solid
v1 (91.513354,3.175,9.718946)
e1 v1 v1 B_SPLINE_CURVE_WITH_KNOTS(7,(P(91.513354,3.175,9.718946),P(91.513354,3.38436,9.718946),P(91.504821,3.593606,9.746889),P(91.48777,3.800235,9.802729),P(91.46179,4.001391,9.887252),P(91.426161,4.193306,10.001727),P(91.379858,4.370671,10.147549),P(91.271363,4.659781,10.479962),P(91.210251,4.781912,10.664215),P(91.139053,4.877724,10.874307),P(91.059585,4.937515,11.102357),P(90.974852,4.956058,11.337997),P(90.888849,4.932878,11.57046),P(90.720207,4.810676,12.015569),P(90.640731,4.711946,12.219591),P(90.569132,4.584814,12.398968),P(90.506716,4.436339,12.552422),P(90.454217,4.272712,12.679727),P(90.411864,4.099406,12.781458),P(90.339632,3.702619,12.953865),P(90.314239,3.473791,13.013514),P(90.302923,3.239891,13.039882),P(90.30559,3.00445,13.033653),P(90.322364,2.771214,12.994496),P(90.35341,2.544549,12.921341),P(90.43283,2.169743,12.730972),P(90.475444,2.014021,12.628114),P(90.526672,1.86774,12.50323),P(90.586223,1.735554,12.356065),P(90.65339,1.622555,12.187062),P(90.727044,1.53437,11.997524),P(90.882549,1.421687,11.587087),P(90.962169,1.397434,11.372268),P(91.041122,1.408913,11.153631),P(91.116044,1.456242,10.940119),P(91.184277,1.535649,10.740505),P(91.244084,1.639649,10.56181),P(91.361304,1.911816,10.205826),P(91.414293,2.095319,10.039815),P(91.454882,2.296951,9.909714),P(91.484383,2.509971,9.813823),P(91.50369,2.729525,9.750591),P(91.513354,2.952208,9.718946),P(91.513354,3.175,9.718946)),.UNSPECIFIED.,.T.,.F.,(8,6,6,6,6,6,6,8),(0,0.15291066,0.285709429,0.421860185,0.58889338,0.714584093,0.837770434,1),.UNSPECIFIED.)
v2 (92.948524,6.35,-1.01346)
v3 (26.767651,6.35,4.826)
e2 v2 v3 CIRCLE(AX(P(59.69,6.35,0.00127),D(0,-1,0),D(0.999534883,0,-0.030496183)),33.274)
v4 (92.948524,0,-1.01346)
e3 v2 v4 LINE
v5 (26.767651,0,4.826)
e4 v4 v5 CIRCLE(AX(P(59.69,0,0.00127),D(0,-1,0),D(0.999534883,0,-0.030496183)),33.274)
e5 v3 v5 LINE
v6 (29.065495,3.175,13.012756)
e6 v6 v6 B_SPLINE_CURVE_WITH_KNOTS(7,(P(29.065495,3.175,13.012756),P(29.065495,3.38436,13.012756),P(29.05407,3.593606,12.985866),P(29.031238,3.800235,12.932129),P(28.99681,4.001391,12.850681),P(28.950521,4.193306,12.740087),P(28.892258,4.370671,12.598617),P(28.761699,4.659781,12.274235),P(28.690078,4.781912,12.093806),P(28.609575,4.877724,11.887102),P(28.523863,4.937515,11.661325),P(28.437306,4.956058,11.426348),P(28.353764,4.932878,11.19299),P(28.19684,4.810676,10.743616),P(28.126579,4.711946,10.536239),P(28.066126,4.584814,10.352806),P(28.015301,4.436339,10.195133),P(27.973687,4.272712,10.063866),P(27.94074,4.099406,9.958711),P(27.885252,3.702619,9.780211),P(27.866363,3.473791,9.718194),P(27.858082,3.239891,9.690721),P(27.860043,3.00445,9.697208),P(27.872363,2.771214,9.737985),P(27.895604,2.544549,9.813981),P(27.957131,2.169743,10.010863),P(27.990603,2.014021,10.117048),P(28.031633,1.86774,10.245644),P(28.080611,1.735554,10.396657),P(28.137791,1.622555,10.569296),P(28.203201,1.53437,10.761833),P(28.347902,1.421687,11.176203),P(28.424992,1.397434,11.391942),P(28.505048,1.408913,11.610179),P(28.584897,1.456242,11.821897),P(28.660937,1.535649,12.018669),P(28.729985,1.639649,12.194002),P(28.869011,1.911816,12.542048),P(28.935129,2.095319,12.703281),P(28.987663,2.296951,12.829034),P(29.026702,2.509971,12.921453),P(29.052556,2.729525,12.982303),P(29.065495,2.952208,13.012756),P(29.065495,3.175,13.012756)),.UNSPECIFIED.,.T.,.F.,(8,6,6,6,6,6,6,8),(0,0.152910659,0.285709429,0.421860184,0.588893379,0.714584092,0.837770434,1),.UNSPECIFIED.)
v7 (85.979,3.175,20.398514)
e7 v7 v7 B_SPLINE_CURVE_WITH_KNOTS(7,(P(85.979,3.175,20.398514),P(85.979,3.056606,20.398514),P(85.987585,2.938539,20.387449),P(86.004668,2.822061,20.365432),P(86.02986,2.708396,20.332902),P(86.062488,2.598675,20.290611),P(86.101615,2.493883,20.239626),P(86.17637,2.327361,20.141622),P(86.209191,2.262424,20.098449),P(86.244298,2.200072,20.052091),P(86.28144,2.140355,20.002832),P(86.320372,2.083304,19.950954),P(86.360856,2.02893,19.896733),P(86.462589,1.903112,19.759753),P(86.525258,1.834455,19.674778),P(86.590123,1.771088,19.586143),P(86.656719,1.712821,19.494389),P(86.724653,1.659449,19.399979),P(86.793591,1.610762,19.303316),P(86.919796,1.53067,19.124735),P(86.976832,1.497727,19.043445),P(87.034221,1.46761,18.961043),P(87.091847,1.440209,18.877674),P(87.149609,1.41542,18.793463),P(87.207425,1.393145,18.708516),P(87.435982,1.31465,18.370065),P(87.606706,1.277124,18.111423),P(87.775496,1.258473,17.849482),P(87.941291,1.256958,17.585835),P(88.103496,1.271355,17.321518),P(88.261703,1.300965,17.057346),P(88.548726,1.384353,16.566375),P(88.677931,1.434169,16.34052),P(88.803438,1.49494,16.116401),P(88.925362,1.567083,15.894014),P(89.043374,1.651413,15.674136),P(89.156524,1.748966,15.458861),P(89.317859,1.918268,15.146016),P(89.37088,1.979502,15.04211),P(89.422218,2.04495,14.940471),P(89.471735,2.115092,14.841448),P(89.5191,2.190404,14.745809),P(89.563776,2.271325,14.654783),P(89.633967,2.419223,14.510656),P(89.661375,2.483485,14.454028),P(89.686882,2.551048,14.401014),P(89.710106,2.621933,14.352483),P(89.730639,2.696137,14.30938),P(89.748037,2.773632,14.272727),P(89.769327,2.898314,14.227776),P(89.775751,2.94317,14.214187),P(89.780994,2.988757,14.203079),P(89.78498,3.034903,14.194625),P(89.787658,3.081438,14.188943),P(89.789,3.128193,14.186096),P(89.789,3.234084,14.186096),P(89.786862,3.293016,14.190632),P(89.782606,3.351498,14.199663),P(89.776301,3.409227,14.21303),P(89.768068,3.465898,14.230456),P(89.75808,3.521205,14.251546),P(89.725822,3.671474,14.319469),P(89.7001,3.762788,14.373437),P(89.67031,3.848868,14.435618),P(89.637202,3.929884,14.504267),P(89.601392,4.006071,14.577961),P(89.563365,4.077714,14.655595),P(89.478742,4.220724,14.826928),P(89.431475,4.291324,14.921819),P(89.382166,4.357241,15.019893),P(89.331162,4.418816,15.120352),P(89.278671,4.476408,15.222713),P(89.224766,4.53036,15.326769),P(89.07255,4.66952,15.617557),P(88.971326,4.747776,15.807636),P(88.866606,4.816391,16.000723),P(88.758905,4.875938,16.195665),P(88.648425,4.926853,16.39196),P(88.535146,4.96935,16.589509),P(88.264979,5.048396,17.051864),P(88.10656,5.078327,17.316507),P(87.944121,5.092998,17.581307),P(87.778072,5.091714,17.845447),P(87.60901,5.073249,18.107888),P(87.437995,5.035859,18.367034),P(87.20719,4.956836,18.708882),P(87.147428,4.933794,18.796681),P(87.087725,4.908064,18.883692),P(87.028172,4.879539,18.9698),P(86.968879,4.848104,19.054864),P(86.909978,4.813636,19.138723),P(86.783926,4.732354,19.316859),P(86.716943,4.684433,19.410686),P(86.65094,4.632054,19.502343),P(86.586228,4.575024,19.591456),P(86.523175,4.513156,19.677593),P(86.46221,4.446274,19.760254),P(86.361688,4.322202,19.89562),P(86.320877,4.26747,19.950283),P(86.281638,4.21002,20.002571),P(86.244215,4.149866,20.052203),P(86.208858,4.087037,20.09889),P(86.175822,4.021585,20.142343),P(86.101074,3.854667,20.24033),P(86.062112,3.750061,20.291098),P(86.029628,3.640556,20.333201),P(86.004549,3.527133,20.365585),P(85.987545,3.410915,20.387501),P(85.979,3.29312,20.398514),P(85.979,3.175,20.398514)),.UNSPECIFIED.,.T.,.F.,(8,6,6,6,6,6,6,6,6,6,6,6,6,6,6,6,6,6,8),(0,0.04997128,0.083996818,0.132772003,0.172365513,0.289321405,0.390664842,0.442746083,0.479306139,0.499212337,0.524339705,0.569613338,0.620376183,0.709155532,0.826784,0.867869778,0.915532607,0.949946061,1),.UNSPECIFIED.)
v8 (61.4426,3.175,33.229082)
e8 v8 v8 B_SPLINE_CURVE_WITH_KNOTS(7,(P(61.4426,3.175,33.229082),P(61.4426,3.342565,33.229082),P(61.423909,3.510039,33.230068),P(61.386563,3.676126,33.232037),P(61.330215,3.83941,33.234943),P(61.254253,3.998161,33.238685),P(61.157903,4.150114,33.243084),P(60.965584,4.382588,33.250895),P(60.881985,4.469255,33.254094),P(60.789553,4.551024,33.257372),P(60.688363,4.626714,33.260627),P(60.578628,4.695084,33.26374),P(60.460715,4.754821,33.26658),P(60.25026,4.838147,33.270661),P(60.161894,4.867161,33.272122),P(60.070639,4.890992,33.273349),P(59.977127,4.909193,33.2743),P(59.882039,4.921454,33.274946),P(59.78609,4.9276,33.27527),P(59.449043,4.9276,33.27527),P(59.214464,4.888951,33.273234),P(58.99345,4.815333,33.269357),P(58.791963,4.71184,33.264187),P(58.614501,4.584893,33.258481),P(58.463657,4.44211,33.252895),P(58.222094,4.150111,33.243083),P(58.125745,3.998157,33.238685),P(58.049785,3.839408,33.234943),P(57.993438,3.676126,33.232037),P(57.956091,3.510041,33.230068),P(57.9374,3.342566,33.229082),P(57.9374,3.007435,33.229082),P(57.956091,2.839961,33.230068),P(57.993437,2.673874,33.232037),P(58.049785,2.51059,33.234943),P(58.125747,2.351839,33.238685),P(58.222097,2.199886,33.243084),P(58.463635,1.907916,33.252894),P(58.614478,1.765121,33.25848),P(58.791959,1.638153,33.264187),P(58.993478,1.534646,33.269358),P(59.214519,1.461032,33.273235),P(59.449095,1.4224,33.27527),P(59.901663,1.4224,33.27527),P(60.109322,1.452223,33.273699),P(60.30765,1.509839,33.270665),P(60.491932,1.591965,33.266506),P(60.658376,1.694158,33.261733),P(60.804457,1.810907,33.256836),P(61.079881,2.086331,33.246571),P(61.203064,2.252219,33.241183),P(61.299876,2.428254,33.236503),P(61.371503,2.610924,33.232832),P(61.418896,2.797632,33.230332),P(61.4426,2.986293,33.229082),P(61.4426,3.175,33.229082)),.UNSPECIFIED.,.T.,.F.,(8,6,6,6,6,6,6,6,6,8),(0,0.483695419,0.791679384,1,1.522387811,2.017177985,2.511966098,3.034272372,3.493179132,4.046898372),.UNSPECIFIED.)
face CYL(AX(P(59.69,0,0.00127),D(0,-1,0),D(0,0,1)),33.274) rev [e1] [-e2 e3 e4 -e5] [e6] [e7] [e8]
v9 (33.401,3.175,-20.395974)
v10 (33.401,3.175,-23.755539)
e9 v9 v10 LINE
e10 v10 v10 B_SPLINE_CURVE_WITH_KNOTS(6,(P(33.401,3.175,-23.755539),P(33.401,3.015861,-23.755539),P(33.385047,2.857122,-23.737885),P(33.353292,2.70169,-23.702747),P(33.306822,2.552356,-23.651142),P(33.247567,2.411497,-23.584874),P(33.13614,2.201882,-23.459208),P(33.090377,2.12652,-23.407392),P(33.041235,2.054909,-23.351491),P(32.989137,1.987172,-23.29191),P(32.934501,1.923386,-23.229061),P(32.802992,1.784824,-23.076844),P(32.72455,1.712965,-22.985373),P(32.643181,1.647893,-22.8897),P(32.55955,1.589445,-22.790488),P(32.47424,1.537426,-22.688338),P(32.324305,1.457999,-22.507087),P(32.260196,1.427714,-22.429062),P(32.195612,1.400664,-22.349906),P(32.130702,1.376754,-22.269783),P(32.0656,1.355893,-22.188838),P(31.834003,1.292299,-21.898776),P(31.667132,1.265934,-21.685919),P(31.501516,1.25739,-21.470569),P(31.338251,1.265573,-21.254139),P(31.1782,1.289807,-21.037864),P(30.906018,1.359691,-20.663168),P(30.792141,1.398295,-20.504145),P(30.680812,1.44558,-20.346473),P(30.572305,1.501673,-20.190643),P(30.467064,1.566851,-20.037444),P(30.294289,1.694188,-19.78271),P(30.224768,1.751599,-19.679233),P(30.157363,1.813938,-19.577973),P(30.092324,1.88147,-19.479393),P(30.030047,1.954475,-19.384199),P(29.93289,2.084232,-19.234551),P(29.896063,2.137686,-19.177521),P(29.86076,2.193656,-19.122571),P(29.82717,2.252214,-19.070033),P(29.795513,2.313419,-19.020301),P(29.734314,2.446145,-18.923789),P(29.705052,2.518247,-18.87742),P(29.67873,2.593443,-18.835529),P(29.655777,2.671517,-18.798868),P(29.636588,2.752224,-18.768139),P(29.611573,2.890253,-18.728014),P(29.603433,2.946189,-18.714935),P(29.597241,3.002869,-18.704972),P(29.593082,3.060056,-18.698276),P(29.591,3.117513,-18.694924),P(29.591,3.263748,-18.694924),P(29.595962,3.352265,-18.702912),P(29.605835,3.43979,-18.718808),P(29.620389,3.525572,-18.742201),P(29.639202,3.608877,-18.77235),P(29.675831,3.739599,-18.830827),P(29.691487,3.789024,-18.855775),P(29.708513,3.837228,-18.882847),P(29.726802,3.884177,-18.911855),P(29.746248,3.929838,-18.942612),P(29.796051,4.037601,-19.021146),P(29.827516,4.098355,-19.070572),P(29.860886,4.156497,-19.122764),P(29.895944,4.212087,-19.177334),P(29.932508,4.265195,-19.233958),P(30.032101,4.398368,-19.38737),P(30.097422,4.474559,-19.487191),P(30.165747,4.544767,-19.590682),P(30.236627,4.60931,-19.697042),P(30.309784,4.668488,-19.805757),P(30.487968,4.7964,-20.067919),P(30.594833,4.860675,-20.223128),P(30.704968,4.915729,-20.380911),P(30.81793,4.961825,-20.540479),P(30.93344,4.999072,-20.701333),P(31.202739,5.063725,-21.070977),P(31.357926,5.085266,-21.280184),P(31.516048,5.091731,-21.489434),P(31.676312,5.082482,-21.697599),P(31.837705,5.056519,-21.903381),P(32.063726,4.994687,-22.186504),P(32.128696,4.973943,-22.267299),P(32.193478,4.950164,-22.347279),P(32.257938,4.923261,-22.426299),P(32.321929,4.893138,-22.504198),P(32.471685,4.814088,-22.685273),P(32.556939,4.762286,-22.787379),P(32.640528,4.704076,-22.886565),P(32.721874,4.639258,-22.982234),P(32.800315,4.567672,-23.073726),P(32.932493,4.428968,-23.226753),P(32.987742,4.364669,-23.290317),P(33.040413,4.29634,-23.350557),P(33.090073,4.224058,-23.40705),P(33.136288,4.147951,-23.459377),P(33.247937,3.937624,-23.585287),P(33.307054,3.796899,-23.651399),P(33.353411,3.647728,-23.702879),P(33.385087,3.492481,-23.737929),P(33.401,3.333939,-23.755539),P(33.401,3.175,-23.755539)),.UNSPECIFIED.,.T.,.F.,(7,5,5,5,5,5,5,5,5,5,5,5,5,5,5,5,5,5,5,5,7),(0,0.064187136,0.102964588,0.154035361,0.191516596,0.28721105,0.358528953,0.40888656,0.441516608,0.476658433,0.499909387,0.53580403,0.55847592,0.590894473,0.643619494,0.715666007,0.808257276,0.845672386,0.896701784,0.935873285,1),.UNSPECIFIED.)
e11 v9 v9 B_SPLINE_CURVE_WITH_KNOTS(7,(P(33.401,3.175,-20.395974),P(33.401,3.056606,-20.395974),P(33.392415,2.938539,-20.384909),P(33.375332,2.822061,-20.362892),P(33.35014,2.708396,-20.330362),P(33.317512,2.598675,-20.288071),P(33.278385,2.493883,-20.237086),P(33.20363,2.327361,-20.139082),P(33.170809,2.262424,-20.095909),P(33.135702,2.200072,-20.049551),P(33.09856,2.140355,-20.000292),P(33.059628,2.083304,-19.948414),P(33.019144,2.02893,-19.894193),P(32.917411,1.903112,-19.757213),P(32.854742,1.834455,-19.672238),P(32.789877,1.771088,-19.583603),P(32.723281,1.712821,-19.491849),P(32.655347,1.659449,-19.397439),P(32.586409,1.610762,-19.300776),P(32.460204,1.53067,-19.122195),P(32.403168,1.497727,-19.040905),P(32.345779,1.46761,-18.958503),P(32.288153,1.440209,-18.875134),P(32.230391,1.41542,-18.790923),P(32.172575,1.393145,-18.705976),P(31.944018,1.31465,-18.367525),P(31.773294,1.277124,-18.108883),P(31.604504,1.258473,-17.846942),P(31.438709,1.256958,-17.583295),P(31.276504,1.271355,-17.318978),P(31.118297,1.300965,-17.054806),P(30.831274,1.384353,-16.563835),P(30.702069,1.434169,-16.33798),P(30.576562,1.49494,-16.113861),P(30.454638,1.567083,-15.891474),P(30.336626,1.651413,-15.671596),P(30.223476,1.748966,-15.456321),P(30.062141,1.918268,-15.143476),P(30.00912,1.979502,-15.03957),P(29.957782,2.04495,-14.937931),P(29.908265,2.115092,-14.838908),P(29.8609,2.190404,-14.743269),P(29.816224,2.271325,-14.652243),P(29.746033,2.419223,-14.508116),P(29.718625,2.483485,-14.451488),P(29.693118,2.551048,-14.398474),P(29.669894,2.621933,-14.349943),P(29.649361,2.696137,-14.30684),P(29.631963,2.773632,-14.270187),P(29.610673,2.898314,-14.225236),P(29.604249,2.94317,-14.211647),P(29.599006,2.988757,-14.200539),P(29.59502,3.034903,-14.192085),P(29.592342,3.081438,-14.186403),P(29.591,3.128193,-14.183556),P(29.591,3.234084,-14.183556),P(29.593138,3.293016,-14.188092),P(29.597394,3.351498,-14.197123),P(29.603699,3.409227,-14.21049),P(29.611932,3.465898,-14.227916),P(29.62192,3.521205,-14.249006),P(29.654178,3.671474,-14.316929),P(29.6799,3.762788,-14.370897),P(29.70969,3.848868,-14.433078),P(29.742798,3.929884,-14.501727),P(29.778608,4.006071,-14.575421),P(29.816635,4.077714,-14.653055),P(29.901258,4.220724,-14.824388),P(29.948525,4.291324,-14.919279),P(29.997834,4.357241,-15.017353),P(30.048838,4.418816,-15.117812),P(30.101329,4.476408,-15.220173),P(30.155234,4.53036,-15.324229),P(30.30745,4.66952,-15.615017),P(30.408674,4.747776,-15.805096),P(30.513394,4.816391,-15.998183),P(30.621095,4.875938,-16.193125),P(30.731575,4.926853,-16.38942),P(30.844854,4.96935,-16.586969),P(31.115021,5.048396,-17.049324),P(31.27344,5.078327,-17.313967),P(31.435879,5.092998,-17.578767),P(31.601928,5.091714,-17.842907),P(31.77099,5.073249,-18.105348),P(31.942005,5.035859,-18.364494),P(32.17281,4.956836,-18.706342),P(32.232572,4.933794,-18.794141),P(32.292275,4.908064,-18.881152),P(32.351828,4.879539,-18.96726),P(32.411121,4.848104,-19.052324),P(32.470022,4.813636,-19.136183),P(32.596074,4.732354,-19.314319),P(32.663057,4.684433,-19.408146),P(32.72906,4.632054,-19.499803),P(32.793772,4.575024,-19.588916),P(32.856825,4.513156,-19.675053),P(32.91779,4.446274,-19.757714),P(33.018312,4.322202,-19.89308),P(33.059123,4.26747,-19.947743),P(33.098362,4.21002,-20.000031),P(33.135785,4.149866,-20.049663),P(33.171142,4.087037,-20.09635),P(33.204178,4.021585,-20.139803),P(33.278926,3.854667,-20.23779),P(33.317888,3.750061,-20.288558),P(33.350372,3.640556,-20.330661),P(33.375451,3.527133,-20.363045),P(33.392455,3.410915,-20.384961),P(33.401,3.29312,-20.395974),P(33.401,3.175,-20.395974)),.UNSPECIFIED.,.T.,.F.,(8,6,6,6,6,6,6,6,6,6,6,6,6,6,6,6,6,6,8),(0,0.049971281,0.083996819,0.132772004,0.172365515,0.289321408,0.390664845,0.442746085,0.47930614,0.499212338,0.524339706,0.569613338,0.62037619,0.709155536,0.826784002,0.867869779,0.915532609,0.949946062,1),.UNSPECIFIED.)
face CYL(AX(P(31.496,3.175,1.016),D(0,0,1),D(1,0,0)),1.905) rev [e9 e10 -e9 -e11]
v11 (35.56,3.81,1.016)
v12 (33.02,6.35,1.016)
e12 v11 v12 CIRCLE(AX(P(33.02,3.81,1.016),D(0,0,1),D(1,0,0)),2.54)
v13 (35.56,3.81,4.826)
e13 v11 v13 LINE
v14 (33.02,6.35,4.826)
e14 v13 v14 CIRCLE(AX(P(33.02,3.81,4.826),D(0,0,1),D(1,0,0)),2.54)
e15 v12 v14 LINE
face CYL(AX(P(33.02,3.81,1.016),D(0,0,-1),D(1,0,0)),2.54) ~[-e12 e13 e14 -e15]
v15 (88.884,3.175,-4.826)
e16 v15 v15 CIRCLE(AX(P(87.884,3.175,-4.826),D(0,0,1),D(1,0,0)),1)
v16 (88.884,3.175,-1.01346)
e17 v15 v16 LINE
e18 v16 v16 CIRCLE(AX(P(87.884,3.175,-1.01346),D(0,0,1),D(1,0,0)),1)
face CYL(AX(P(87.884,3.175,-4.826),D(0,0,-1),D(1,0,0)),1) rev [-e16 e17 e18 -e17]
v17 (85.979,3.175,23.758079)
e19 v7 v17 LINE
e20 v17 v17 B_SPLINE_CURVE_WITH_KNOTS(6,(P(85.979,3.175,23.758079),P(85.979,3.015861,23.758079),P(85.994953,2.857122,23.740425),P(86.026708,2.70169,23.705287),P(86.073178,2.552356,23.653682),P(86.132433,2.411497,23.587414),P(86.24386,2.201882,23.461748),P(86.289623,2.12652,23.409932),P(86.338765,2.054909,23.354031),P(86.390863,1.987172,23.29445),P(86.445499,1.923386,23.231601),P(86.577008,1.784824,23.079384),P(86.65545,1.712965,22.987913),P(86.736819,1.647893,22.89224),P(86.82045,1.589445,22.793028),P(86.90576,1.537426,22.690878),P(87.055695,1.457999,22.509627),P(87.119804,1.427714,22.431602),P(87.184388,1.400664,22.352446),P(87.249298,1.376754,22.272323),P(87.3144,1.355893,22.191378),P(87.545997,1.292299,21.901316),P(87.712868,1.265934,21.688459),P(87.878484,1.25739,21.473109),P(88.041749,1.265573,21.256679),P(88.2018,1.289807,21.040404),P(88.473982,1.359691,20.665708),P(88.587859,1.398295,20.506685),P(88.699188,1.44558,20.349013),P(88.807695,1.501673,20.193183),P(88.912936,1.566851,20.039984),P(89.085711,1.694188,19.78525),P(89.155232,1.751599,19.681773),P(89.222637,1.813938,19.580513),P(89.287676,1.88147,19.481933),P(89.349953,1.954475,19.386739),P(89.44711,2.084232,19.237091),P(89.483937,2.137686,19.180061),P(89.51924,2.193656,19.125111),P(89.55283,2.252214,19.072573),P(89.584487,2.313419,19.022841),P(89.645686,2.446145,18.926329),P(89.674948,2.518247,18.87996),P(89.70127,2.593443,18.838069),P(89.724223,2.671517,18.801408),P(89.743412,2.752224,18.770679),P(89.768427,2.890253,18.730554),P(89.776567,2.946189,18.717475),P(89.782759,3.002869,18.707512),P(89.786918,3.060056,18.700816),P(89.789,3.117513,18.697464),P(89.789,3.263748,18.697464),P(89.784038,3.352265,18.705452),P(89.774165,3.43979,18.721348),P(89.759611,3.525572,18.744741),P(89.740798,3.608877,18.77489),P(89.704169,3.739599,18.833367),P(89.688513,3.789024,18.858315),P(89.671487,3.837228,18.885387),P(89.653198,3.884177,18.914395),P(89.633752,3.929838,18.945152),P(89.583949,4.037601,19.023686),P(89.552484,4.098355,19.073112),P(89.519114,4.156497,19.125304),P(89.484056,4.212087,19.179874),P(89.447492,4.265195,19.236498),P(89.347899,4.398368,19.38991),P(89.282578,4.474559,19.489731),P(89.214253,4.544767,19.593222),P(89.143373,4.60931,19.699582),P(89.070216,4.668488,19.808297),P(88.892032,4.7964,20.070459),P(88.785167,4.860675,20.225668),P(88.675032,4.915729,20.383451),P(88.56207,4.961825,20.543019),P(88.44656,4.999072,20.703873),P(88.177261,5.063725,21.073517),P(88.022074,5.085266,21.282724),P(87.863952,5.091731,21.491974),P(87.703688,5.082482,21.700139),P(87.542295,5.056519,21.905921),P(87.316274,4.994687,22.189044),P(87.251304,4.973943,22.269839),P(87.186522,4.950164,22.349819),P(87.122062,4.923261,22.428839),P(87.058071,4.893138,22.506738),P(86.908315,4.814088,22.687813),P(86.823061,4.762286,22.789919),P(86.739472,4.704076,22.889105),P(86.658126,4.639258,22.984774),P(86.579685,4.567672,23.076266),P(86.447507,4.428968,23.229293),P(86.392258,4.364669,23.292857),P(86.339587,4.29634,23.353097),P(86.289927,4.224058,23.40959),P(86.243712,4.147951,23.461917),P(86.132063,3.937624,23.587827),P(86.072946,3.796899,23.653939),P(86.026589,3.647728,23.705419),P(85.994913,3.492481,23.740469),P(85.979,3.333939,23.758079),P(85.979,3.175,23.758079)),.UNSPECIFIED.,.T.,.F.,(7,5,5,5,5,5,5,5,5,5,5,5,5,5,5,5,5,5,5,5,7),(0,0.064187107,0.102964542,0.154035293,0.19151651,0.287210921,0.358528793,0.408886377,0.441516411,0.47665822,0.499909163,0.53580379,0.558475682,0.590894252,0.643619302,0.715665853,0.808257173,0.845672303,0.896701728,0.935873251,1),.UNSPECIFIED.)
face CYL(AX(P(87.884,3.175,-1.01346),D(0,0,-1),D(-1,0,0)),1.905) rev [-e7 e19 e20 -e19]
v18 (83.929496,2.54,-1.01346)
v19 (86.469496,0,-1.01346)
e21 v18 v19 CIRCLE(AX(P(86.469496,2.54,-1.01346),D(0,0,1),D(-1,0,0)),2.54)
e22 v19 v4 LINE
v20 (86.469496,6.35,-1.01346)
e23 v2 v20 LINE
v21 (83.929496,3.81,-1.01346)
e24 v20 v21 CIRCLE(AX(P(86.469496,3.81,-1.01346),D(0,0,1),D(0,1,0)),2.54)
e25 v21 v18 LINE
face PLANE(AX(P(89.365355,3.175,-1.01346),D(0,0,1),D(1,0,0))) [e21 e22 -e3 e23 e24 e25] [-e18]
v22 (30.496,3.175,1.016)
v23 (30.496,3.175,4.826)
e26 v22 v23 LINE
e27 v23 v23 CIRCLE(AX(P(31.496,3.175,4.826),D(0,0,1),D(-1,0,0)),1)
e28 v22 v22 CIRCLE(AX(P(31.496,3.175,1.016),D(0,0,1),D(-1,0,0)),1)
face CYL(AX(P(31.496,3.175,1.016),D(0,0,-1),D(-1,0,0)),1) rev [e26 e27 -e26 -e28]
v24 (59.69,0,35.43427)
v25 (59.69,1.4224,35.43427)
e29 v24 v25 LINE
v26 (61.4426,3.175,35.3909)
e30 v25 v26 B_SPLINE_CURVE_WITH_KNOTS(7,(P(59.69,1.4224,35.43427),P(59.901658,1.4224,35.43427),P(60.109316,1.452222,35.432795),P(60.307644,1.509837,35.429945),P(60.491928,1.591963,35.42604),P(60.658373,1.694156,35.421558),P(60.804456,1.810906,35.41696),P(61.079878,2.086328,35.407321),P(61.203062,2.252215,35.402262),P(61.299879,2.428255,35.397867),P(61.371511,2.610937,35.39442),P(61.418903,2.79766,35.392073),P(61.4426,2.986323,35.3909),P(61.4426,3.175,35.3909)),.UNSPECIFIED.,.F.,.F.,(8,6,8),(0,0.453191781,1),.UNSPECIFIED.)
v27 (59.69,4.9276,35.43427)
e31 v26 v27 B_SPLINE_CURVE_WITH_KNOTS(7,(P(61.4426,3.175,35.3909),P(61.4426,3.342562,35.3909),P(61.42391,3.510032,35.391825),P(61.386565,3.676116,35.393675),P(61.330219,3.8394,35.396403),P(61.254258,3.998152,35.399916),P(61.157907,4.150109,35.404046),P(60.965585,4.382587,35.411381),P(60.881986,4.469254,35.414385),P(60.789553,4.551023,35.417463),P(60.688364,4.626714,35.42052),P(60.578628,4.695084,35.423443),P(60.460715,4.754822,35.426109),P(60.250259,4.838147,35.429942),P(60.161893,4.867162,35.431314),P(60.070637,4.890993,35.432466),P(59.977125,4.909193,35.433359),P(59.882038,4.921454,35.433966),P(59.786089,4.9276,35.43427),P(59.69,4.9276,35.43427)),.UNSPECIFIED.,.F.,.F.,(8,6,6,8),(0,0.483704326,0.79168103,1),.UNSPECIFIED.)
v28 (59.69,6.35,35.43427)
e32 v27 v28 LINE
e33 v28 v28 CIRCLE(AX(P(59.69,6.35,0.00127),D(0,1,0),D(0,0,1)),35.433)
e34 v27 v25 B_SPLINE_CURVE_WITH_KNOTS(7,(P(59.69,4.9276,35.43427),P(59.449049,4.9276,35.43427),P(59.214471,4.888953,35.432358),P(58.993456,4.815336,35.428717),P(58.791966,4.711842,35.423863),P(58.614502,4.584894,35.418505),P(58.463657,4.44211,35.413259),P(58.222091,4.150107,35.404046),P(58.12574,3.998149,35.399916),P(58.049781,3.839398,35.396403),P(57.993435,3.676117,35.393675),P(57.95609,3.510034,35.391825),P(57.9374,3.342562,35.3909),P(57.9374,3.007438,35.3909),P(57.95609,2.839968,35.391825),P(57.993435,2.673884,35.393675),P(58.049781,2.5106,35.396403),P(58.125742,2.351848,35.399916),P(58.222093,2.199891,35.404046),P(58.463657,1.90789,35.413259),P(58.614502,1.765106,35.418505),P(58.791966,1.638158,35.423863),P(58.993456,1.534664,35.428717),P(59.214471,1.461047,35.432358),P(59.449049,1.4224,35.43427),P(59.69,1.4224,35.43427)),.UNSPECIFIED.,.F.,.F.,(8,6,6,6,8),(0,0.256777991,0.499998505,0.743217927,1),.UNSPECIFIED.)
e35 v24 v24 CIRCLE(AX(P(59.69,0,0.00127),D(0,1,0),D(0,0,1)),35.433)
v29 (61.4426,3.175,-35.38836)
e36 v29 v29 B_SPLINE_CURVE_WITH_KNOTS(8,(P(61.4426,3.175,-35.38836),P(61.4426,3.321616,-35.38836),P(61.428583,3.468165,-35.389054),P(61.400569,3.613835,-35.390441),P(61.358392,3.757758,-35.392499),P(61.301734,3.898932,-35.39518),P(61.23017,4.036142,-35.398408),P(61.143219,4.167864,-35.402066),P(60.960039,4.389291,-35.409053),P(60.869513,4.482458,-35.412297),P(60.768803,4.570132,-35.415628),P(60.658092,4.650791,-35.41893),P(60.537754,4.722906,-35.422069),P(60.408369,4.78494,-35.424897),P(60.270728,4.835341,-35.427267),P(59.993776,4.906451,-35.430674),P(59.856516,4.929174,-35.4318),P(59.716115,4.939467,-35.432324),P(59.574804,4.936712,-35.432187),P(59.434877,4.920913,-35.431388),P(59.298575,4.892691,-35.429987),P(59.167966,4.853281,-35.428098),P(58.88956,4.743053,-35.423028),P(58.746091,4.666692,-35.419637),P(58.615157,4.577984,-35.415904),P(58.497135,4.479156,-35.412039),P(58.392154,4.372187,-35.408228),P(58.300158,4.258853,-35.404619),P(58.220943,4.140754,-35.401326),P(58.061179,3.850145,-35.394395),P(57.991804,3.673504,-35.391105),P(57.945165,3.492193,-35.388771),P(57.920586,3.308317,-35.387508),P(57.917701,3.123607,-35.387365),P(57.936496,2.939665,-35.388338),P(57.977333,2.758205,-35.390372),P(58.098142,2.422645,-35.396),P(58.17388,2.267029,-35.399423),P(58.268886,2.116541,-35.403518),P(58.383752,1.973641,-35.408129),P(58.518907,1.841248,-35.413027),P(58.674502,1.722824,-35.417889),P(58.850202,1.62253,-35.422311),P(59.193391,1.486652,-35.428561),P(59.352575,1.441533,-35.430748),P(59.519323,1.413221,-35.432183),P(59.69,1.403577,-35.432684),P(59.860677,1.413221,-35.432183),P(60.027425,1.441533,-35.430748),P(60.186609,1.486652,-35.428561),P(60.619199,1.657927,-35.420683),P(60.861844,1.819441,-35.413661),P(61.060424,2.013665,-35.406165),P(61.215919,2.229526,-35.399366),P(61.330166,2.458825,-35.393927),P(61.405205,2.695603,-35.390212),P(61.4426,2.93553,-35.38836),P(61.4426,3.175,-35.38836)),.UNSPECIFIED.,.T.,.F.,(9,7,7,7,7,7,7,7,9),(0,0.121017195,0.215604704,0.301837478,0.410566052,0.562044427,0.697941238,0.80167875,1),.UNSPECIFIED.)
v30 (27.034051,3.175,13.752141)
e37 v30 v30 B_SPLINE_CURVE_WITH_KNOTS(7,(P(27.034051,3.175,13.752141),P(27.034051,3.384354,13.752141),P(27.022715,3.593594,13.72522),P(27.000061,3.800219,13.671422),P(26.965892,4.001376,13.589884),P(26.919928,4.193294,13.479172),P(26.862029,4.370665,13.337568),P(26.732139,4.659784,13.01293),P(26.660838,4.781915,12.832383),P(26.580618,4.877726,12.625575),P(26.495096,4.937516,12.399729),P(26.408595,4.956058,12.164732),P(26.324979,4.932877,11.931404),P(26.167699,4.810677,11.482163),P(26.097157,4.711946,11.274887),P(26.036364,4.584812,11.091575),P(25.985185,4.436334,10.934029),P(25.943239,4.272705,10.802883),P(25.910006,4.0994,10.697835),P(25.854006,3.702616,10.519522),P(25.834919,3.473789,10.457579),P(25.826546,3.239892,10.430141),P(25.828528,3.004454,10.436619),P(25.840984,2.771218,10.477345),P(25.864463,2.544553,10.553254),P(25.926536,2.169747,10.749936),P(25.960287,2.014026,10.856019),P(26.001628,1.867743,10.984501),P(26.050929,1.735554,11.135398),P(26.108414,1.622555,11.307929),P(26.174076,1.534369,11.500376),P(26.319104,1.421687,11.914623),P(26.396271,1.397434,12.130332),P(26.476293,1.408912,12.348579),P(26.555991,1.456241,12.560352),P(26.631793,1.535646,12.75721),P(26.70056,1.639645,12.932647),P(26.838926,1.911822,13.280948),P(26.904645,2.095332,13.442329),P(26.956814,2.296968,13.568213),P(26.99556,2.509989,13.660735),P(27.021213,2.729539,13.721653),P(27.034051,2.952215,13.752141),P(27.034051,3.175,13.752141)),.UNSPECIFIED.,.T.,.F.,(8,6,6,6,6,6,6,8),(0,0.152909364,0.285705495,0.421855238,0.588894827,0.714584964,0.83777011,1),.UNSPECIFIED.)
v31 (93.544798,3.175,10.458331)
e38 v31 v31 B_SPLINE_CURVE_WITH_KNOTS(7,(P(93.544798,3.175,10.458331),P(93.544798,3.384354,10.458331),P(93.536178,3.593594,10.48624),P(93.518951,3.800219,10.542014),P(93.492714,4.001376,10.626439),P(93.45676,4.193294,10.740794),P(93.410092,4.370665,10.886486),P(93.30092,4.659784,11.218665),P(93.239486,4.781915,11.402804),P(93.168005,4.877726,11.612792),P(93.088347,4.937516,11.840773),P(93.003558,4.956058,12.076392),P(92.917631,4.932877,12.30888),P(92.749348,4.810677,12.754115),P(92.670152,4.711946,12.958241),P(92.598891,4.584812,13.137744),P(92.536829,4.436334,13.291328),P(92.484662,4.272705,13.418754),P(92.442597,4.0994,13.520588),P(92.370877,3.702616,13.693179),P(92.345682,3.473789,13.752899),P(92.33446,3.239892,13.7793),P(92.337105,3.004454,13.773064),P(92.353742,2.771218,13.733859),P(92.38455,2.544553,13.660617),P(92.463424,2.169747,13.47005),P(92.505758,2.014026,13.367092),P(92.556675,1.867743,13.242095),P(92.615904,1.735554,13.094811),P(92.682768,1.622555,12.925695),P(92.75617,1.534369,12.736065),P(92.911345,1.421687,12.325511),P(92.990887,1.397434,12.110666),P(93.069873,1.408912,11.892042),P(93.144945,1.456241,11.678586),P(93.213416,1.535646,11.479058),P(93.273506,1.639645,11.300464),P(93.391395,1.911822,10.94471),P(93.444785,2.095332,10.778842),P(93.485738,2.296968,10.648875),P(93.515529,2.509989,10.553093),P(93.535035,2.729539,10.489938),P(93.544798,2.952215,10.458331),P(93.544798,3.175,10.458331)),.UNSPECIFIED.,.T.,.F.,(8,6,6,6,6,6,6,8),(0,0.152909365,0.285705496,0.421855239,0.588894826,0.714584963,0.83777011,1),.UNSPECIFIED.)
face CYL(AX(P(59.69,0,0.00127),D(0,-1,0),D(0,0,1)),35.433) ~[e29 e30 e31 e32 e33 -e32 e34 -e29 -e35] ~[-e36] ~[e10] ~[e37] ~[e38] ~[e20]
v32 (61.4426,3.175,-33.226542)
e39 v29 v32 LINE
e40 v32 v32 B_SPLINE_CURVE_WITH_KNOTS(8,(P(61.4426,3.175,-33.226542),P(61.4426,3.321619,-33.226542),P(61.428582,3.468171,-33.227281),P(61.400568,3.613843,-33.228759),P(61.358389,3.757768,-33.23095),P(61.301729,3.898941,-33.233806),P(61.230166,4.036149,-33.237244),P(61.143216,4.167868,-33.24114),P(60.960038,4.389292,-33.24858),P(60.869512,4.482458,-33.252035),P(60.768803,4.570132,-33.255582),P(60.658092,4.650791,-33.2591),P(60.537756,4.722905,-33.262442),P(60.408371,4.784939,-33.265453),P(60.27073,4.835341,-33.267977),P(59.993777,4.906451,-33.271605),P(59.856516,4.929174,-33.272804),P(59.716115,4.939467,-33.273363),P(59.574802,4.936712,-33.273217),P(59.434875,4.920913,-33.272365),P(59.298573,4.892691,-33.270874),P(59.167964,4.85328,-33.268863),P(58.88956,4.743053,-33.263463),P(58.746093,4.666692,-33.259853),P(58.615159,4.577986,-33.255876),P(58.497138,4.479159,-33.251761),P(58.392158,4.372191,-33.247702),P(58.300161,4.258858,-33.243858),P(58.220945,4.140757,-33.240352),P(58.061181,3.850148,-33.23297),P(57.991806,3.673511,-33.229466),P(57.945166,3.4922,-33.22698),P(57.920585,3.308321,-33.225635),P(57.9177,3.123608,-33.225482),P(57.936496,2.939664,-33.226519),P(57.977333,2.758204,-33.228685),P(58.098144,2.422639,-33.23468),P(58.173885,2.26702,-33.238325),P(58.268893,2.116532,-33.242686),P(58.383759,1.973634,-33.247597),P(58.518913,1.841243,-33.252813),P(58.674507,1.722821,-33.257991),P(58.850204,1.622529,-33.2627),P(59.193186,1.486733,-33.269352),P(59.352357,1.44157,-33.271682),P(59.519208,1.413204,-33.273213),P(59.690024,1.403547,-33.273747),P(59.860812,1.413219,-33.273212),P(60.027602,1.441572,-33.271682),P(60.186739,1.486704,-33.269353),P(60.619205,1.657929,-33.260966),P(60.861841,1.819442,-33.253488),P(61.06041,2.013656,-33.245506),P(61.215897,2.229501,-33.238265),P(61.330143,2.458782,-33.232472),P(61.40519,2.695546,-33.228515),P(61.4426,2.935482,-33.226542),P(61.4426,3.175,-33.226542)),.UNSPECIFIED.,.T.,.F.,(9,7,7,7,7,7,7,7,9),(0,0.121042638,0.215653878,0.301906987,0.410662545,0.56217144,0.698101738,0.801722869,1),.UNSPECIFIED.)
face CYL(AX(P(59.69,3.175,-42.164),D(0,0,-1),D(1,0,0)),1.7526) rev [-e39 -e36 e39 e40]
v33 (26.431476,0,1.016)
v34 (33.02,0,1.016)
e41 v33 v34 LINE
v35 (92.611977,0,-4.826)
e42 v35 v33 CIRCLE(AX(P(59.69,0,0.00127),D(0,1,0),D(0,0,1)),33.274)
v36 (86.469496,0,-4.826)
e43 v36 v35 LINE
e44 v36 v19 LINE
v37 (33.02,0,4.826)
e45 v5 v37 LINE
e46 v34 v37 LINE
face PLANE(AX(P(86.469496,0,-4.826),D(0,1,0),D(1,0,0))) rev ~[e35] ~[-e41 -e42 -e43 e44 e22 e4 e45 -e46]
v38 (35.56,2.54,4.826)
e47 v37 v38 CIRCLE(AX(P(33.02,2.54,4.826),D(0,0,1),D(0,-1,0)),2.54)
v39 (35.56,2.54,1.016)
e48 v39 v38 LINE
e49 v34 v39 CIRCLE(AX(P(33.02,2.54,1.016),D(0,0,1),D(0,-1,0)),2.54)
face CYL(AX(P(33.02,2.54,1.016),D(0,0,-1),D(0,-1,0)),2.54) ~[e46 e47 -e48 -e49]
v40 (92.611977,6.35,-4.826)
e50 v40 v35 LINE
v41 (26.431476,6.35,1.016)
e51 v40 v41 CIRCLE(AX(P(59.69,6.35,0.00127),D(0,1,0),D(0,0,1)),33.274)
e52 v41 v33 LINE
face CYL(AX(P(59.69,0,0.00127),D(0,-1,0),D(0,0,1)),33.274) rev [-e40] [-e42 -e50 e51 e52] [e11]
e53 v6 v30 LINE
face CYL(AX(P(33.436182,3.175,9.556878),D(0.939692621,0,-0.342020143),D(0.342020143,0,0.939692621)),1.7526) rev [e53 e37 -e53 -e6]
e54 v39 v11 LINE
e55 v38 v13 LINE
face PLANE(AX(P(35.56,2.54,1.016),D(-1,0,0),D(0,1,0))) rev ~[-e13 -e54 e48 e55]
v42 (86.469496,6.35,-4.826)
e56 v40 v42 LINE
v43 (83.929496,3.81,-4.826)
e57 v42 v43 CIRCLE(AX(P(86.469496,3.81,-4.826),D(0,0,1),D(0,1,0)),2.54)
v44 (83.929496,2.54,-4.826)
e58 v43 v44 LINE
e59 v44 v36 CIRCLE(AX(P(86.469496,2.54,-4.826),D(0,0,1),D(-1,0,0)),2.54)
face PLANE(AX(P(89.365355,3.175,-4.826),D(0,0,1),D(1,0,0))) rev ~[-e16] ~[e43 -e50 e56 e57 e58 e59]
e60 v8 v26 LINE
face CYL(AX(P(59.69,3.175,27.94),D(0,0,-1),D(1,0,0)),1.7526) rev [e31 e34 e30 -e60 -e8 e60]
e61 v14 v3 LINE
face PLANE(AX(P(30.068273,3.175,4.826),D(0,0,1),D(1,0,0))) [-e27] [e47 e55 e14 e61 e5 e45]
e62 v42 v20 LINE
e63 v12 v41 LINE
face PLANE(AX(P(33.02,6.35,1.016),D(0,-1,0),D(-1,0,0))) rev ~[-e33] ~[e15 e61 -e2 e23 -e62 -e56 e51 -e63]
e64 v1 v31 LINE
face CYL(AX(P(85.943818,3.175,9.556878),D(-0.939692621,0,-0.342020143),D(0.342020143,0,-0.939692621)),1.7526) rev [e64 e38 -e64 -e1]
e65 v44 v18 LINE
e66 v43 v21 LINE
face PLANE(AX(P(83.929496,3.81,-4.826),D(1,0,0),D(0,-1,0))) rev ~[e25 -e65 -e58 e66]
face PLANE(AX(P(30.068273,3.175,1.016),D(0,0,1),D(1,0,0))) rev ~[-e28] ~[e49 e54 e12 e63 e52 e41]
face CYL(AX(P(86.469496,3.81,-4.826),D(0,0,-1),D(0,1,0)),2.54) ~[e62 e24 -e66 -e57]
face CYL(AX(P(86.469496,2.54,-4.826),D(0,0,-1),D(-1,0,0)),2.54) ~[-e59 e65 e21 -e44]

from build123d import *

# Parameters (mm, degrees)
SKETCH1_R                       = 35.433
SKETCH1_R_2                     = 33.274
BOSS_EXTRUDE1_DEPTH             = 6.35
BOSS_EXTRUDE2_START             = 1.016
SKETCH2_R                       = 1
BOSS_EXTRUDE2_DEPTH             = 3.81
BOSS_EXTRUDE3_DEPTH             = 0.00254
BOSS_EXTRUDE3_DEPTH_BACK        = 3.81
BOSS_EXTRUDE3_START             = -1.016
SKETCH3_R                       = 1
CUT_EXTRUDE1_START              = 27.94
SKETCH4_R                       = 1.7526
CUT_EXTRUDE1_DEPTH              = 17.272
CIRPATTERN1_COUNT               = 2
CIRPATTERN1_ANGLE               = 70
CIRPATTERN1_THE_OTHER_WAY_COUNT = 2
CIRPATTERN1_THE_OTHER_WAY_ANGLE = 70
CUT_EXTRUDE2_START              = -42.164
SKETCH5_R                       = 1.7526
CUT_EXTRUDE2_DEPTH              = 42.164
SKETCH6_R                       = 1.905
CUT_EXTRUDE3_DEPTH              = 40.386
SKETCH7_R                       = 1.905
CUT_EXTRUDE4_DEPTH              = 38.1


with BuildPart() as part:
    # Sketch1 → Boss-Extrude1 (new body)
    with BuildSketch(Plane(origin=(0, 0, 0.20701), x_dir=(1, 0, 0), z_dir=(0, 1, 0))):
        with Locations(Location((59.69, 0.20574, 0), (0, 0, 270))):
            Circle(SKETCH1_R)
        with Locations(Location((59.69, 0.20574, 0), (0, 0, 270))):
            Circle(SKETCH1_R_2, mode=Mode.SUBTRACT)
    extrude(amount=BOSS_EXTRUDE1_DEPTH)

    # Sketch2 → Boss-Extrude2 (add)
    with BuildSketch(Plane.XY.offset(BOSS_EXTRUDE2_START)):
        with BuildLine():
            Line((33.02, 6.35), (25.4, 6.35))
            Line((25.4, 6.35), (25.4, 0))
            Line((25.4, 0), (33.02, 0))
            ThreePointArc((33.02, 0), (34.816051224, 0.743948776), (35.56, 2.54))
            Line((35.56, 2.54), (35.56, 3.81))
            ThreePointArc((35.56, 3.81), (34.816051224, 5.606051224), (33.02, 6.35))
        make_face()
        with Locations(Location((31.496, 3.175, 0), (0, 0, 180))):
            Circle(SKETCH2_R, mode=Mode.SUBTRACT)
    extrude(amount=BOSS_EXTRUDE2_DEPTH)

    # Sketch3 → Boss-Extrude3 (add, two sides: drawn at the far end of the back side and taken through both)
    with BuildSketch(Plane.XY.offset(BOSS_EXTRUDE3_START - BOSS_EXTRUDE3_DEPTH_BACK)):
        with BuildLine():
            Line((93.98, 6.35), (86.469496204, 6.35))
            ThreePointArc((86.469496204, 6.35), (84.67344498, 5.606051224), (83.929496204, 3.81))
            Line((83.929496204, 3.81), (83.929496204, 2.54))
            ThreePointArc((83.929496204, 2.54), (84.67344498, 0.743948776), (86.469496204, 0))
            Line((86.469496204, 0), (93.98, 0))
            Line((93.98, 0), (93.98, 6.35))
        make_face()
        with Locations((87.884, 3.175)):
            Circle(SKETCH3_R, mode=Mode.SUBTRACT)
    extrude(amount=BOSS_EXTRUDE3_DEPTH + BOSS_EXTRUDE3_DEPTH_BACK)

    # Sketch4 → Cut-Extrude1 (cut)
    with BuildSketch(Plane.XY.offset(CUT_EXTRUDE1_START)):
        with Locations((59.69, 3.175)):
            Circle(SKETCH4_R)
    cut_extrude1 = extrude(amount=CUT_EXTRUDE1_DEPTH, mode=Mode.SUBTRACT)

    # CirPattern1: Cut-Extrude1 ×2 about axis
    cirpattern1_axis = Axis((59.69, 0, 0.00127), (0, -1, 0))
    for i in range(1, CIRPATTERN1_COUNT):
        add(cut_extrude1.rotate(cirpattern1_axis, i * CIRPATTERN1_ANGLE / (CIRPATTERN1_COUNT - 1)), mode=Mode.SUBTRACT)

    # CirPattern1 the other way: Cut-Extrude1 ×2 about axis
    cirpattern1_the_other_way_axis = Axis((59.69, 0, 0.00127), (0, 1, 0))
    for i in range(1, CIRPATTERN1_THE_OTHER_WAY_COUNT):
        add(cut_extrude1.rotate(cirpattern1_the_other_way_axis, i * CIRPATTERN1_THE_OTHER_WAY_ANGLE / (CIRPATTERN1_THE_OTHER_WAY_COUNT - 1)), mode=Mode.SUBTRACT)

    # Sketch5 → Cut-Extrude2 (cut)
    with BuildSketch(Plane.XY.offset(CUT_EXTRUDE2_START)):
        with Locations((59.69, 3.175)):
            Circle(SKETCH5_R)
    extrude(amount=CUT_EXTRUDE2_DEPTH, mode=Mode.SUBTRACT)

    # Sketch6 → Cut-Extrude3 (cut)
    with BuildSketch(Plane.XY.offset(-1.01346)):
        with Locations(Location((87.884, 3.175, 0), (0, 0, 180))):
            Circle(SKETCH6_R)
    extrude(amount=CUT_EXTRUDE3_DEPTH, mode=Mode.SUBTRACT)

    # Sketch7 → Cut-Extrude4 (cut)
    with BuildSketch(Plane(origin=(0, 0, 1.016), x_dir=(-1, 0, 0), z_dir=(0, 0, -1))):
        with Locations(Location((-31.496, 3.175, 0), (0, 0, 180))):
            Circle(SKETCH7_R)
    extrude(amount=CUT_EXTRUDE4_DEPTH, mode=Mode.SUBTRACT)


solid = part.part
